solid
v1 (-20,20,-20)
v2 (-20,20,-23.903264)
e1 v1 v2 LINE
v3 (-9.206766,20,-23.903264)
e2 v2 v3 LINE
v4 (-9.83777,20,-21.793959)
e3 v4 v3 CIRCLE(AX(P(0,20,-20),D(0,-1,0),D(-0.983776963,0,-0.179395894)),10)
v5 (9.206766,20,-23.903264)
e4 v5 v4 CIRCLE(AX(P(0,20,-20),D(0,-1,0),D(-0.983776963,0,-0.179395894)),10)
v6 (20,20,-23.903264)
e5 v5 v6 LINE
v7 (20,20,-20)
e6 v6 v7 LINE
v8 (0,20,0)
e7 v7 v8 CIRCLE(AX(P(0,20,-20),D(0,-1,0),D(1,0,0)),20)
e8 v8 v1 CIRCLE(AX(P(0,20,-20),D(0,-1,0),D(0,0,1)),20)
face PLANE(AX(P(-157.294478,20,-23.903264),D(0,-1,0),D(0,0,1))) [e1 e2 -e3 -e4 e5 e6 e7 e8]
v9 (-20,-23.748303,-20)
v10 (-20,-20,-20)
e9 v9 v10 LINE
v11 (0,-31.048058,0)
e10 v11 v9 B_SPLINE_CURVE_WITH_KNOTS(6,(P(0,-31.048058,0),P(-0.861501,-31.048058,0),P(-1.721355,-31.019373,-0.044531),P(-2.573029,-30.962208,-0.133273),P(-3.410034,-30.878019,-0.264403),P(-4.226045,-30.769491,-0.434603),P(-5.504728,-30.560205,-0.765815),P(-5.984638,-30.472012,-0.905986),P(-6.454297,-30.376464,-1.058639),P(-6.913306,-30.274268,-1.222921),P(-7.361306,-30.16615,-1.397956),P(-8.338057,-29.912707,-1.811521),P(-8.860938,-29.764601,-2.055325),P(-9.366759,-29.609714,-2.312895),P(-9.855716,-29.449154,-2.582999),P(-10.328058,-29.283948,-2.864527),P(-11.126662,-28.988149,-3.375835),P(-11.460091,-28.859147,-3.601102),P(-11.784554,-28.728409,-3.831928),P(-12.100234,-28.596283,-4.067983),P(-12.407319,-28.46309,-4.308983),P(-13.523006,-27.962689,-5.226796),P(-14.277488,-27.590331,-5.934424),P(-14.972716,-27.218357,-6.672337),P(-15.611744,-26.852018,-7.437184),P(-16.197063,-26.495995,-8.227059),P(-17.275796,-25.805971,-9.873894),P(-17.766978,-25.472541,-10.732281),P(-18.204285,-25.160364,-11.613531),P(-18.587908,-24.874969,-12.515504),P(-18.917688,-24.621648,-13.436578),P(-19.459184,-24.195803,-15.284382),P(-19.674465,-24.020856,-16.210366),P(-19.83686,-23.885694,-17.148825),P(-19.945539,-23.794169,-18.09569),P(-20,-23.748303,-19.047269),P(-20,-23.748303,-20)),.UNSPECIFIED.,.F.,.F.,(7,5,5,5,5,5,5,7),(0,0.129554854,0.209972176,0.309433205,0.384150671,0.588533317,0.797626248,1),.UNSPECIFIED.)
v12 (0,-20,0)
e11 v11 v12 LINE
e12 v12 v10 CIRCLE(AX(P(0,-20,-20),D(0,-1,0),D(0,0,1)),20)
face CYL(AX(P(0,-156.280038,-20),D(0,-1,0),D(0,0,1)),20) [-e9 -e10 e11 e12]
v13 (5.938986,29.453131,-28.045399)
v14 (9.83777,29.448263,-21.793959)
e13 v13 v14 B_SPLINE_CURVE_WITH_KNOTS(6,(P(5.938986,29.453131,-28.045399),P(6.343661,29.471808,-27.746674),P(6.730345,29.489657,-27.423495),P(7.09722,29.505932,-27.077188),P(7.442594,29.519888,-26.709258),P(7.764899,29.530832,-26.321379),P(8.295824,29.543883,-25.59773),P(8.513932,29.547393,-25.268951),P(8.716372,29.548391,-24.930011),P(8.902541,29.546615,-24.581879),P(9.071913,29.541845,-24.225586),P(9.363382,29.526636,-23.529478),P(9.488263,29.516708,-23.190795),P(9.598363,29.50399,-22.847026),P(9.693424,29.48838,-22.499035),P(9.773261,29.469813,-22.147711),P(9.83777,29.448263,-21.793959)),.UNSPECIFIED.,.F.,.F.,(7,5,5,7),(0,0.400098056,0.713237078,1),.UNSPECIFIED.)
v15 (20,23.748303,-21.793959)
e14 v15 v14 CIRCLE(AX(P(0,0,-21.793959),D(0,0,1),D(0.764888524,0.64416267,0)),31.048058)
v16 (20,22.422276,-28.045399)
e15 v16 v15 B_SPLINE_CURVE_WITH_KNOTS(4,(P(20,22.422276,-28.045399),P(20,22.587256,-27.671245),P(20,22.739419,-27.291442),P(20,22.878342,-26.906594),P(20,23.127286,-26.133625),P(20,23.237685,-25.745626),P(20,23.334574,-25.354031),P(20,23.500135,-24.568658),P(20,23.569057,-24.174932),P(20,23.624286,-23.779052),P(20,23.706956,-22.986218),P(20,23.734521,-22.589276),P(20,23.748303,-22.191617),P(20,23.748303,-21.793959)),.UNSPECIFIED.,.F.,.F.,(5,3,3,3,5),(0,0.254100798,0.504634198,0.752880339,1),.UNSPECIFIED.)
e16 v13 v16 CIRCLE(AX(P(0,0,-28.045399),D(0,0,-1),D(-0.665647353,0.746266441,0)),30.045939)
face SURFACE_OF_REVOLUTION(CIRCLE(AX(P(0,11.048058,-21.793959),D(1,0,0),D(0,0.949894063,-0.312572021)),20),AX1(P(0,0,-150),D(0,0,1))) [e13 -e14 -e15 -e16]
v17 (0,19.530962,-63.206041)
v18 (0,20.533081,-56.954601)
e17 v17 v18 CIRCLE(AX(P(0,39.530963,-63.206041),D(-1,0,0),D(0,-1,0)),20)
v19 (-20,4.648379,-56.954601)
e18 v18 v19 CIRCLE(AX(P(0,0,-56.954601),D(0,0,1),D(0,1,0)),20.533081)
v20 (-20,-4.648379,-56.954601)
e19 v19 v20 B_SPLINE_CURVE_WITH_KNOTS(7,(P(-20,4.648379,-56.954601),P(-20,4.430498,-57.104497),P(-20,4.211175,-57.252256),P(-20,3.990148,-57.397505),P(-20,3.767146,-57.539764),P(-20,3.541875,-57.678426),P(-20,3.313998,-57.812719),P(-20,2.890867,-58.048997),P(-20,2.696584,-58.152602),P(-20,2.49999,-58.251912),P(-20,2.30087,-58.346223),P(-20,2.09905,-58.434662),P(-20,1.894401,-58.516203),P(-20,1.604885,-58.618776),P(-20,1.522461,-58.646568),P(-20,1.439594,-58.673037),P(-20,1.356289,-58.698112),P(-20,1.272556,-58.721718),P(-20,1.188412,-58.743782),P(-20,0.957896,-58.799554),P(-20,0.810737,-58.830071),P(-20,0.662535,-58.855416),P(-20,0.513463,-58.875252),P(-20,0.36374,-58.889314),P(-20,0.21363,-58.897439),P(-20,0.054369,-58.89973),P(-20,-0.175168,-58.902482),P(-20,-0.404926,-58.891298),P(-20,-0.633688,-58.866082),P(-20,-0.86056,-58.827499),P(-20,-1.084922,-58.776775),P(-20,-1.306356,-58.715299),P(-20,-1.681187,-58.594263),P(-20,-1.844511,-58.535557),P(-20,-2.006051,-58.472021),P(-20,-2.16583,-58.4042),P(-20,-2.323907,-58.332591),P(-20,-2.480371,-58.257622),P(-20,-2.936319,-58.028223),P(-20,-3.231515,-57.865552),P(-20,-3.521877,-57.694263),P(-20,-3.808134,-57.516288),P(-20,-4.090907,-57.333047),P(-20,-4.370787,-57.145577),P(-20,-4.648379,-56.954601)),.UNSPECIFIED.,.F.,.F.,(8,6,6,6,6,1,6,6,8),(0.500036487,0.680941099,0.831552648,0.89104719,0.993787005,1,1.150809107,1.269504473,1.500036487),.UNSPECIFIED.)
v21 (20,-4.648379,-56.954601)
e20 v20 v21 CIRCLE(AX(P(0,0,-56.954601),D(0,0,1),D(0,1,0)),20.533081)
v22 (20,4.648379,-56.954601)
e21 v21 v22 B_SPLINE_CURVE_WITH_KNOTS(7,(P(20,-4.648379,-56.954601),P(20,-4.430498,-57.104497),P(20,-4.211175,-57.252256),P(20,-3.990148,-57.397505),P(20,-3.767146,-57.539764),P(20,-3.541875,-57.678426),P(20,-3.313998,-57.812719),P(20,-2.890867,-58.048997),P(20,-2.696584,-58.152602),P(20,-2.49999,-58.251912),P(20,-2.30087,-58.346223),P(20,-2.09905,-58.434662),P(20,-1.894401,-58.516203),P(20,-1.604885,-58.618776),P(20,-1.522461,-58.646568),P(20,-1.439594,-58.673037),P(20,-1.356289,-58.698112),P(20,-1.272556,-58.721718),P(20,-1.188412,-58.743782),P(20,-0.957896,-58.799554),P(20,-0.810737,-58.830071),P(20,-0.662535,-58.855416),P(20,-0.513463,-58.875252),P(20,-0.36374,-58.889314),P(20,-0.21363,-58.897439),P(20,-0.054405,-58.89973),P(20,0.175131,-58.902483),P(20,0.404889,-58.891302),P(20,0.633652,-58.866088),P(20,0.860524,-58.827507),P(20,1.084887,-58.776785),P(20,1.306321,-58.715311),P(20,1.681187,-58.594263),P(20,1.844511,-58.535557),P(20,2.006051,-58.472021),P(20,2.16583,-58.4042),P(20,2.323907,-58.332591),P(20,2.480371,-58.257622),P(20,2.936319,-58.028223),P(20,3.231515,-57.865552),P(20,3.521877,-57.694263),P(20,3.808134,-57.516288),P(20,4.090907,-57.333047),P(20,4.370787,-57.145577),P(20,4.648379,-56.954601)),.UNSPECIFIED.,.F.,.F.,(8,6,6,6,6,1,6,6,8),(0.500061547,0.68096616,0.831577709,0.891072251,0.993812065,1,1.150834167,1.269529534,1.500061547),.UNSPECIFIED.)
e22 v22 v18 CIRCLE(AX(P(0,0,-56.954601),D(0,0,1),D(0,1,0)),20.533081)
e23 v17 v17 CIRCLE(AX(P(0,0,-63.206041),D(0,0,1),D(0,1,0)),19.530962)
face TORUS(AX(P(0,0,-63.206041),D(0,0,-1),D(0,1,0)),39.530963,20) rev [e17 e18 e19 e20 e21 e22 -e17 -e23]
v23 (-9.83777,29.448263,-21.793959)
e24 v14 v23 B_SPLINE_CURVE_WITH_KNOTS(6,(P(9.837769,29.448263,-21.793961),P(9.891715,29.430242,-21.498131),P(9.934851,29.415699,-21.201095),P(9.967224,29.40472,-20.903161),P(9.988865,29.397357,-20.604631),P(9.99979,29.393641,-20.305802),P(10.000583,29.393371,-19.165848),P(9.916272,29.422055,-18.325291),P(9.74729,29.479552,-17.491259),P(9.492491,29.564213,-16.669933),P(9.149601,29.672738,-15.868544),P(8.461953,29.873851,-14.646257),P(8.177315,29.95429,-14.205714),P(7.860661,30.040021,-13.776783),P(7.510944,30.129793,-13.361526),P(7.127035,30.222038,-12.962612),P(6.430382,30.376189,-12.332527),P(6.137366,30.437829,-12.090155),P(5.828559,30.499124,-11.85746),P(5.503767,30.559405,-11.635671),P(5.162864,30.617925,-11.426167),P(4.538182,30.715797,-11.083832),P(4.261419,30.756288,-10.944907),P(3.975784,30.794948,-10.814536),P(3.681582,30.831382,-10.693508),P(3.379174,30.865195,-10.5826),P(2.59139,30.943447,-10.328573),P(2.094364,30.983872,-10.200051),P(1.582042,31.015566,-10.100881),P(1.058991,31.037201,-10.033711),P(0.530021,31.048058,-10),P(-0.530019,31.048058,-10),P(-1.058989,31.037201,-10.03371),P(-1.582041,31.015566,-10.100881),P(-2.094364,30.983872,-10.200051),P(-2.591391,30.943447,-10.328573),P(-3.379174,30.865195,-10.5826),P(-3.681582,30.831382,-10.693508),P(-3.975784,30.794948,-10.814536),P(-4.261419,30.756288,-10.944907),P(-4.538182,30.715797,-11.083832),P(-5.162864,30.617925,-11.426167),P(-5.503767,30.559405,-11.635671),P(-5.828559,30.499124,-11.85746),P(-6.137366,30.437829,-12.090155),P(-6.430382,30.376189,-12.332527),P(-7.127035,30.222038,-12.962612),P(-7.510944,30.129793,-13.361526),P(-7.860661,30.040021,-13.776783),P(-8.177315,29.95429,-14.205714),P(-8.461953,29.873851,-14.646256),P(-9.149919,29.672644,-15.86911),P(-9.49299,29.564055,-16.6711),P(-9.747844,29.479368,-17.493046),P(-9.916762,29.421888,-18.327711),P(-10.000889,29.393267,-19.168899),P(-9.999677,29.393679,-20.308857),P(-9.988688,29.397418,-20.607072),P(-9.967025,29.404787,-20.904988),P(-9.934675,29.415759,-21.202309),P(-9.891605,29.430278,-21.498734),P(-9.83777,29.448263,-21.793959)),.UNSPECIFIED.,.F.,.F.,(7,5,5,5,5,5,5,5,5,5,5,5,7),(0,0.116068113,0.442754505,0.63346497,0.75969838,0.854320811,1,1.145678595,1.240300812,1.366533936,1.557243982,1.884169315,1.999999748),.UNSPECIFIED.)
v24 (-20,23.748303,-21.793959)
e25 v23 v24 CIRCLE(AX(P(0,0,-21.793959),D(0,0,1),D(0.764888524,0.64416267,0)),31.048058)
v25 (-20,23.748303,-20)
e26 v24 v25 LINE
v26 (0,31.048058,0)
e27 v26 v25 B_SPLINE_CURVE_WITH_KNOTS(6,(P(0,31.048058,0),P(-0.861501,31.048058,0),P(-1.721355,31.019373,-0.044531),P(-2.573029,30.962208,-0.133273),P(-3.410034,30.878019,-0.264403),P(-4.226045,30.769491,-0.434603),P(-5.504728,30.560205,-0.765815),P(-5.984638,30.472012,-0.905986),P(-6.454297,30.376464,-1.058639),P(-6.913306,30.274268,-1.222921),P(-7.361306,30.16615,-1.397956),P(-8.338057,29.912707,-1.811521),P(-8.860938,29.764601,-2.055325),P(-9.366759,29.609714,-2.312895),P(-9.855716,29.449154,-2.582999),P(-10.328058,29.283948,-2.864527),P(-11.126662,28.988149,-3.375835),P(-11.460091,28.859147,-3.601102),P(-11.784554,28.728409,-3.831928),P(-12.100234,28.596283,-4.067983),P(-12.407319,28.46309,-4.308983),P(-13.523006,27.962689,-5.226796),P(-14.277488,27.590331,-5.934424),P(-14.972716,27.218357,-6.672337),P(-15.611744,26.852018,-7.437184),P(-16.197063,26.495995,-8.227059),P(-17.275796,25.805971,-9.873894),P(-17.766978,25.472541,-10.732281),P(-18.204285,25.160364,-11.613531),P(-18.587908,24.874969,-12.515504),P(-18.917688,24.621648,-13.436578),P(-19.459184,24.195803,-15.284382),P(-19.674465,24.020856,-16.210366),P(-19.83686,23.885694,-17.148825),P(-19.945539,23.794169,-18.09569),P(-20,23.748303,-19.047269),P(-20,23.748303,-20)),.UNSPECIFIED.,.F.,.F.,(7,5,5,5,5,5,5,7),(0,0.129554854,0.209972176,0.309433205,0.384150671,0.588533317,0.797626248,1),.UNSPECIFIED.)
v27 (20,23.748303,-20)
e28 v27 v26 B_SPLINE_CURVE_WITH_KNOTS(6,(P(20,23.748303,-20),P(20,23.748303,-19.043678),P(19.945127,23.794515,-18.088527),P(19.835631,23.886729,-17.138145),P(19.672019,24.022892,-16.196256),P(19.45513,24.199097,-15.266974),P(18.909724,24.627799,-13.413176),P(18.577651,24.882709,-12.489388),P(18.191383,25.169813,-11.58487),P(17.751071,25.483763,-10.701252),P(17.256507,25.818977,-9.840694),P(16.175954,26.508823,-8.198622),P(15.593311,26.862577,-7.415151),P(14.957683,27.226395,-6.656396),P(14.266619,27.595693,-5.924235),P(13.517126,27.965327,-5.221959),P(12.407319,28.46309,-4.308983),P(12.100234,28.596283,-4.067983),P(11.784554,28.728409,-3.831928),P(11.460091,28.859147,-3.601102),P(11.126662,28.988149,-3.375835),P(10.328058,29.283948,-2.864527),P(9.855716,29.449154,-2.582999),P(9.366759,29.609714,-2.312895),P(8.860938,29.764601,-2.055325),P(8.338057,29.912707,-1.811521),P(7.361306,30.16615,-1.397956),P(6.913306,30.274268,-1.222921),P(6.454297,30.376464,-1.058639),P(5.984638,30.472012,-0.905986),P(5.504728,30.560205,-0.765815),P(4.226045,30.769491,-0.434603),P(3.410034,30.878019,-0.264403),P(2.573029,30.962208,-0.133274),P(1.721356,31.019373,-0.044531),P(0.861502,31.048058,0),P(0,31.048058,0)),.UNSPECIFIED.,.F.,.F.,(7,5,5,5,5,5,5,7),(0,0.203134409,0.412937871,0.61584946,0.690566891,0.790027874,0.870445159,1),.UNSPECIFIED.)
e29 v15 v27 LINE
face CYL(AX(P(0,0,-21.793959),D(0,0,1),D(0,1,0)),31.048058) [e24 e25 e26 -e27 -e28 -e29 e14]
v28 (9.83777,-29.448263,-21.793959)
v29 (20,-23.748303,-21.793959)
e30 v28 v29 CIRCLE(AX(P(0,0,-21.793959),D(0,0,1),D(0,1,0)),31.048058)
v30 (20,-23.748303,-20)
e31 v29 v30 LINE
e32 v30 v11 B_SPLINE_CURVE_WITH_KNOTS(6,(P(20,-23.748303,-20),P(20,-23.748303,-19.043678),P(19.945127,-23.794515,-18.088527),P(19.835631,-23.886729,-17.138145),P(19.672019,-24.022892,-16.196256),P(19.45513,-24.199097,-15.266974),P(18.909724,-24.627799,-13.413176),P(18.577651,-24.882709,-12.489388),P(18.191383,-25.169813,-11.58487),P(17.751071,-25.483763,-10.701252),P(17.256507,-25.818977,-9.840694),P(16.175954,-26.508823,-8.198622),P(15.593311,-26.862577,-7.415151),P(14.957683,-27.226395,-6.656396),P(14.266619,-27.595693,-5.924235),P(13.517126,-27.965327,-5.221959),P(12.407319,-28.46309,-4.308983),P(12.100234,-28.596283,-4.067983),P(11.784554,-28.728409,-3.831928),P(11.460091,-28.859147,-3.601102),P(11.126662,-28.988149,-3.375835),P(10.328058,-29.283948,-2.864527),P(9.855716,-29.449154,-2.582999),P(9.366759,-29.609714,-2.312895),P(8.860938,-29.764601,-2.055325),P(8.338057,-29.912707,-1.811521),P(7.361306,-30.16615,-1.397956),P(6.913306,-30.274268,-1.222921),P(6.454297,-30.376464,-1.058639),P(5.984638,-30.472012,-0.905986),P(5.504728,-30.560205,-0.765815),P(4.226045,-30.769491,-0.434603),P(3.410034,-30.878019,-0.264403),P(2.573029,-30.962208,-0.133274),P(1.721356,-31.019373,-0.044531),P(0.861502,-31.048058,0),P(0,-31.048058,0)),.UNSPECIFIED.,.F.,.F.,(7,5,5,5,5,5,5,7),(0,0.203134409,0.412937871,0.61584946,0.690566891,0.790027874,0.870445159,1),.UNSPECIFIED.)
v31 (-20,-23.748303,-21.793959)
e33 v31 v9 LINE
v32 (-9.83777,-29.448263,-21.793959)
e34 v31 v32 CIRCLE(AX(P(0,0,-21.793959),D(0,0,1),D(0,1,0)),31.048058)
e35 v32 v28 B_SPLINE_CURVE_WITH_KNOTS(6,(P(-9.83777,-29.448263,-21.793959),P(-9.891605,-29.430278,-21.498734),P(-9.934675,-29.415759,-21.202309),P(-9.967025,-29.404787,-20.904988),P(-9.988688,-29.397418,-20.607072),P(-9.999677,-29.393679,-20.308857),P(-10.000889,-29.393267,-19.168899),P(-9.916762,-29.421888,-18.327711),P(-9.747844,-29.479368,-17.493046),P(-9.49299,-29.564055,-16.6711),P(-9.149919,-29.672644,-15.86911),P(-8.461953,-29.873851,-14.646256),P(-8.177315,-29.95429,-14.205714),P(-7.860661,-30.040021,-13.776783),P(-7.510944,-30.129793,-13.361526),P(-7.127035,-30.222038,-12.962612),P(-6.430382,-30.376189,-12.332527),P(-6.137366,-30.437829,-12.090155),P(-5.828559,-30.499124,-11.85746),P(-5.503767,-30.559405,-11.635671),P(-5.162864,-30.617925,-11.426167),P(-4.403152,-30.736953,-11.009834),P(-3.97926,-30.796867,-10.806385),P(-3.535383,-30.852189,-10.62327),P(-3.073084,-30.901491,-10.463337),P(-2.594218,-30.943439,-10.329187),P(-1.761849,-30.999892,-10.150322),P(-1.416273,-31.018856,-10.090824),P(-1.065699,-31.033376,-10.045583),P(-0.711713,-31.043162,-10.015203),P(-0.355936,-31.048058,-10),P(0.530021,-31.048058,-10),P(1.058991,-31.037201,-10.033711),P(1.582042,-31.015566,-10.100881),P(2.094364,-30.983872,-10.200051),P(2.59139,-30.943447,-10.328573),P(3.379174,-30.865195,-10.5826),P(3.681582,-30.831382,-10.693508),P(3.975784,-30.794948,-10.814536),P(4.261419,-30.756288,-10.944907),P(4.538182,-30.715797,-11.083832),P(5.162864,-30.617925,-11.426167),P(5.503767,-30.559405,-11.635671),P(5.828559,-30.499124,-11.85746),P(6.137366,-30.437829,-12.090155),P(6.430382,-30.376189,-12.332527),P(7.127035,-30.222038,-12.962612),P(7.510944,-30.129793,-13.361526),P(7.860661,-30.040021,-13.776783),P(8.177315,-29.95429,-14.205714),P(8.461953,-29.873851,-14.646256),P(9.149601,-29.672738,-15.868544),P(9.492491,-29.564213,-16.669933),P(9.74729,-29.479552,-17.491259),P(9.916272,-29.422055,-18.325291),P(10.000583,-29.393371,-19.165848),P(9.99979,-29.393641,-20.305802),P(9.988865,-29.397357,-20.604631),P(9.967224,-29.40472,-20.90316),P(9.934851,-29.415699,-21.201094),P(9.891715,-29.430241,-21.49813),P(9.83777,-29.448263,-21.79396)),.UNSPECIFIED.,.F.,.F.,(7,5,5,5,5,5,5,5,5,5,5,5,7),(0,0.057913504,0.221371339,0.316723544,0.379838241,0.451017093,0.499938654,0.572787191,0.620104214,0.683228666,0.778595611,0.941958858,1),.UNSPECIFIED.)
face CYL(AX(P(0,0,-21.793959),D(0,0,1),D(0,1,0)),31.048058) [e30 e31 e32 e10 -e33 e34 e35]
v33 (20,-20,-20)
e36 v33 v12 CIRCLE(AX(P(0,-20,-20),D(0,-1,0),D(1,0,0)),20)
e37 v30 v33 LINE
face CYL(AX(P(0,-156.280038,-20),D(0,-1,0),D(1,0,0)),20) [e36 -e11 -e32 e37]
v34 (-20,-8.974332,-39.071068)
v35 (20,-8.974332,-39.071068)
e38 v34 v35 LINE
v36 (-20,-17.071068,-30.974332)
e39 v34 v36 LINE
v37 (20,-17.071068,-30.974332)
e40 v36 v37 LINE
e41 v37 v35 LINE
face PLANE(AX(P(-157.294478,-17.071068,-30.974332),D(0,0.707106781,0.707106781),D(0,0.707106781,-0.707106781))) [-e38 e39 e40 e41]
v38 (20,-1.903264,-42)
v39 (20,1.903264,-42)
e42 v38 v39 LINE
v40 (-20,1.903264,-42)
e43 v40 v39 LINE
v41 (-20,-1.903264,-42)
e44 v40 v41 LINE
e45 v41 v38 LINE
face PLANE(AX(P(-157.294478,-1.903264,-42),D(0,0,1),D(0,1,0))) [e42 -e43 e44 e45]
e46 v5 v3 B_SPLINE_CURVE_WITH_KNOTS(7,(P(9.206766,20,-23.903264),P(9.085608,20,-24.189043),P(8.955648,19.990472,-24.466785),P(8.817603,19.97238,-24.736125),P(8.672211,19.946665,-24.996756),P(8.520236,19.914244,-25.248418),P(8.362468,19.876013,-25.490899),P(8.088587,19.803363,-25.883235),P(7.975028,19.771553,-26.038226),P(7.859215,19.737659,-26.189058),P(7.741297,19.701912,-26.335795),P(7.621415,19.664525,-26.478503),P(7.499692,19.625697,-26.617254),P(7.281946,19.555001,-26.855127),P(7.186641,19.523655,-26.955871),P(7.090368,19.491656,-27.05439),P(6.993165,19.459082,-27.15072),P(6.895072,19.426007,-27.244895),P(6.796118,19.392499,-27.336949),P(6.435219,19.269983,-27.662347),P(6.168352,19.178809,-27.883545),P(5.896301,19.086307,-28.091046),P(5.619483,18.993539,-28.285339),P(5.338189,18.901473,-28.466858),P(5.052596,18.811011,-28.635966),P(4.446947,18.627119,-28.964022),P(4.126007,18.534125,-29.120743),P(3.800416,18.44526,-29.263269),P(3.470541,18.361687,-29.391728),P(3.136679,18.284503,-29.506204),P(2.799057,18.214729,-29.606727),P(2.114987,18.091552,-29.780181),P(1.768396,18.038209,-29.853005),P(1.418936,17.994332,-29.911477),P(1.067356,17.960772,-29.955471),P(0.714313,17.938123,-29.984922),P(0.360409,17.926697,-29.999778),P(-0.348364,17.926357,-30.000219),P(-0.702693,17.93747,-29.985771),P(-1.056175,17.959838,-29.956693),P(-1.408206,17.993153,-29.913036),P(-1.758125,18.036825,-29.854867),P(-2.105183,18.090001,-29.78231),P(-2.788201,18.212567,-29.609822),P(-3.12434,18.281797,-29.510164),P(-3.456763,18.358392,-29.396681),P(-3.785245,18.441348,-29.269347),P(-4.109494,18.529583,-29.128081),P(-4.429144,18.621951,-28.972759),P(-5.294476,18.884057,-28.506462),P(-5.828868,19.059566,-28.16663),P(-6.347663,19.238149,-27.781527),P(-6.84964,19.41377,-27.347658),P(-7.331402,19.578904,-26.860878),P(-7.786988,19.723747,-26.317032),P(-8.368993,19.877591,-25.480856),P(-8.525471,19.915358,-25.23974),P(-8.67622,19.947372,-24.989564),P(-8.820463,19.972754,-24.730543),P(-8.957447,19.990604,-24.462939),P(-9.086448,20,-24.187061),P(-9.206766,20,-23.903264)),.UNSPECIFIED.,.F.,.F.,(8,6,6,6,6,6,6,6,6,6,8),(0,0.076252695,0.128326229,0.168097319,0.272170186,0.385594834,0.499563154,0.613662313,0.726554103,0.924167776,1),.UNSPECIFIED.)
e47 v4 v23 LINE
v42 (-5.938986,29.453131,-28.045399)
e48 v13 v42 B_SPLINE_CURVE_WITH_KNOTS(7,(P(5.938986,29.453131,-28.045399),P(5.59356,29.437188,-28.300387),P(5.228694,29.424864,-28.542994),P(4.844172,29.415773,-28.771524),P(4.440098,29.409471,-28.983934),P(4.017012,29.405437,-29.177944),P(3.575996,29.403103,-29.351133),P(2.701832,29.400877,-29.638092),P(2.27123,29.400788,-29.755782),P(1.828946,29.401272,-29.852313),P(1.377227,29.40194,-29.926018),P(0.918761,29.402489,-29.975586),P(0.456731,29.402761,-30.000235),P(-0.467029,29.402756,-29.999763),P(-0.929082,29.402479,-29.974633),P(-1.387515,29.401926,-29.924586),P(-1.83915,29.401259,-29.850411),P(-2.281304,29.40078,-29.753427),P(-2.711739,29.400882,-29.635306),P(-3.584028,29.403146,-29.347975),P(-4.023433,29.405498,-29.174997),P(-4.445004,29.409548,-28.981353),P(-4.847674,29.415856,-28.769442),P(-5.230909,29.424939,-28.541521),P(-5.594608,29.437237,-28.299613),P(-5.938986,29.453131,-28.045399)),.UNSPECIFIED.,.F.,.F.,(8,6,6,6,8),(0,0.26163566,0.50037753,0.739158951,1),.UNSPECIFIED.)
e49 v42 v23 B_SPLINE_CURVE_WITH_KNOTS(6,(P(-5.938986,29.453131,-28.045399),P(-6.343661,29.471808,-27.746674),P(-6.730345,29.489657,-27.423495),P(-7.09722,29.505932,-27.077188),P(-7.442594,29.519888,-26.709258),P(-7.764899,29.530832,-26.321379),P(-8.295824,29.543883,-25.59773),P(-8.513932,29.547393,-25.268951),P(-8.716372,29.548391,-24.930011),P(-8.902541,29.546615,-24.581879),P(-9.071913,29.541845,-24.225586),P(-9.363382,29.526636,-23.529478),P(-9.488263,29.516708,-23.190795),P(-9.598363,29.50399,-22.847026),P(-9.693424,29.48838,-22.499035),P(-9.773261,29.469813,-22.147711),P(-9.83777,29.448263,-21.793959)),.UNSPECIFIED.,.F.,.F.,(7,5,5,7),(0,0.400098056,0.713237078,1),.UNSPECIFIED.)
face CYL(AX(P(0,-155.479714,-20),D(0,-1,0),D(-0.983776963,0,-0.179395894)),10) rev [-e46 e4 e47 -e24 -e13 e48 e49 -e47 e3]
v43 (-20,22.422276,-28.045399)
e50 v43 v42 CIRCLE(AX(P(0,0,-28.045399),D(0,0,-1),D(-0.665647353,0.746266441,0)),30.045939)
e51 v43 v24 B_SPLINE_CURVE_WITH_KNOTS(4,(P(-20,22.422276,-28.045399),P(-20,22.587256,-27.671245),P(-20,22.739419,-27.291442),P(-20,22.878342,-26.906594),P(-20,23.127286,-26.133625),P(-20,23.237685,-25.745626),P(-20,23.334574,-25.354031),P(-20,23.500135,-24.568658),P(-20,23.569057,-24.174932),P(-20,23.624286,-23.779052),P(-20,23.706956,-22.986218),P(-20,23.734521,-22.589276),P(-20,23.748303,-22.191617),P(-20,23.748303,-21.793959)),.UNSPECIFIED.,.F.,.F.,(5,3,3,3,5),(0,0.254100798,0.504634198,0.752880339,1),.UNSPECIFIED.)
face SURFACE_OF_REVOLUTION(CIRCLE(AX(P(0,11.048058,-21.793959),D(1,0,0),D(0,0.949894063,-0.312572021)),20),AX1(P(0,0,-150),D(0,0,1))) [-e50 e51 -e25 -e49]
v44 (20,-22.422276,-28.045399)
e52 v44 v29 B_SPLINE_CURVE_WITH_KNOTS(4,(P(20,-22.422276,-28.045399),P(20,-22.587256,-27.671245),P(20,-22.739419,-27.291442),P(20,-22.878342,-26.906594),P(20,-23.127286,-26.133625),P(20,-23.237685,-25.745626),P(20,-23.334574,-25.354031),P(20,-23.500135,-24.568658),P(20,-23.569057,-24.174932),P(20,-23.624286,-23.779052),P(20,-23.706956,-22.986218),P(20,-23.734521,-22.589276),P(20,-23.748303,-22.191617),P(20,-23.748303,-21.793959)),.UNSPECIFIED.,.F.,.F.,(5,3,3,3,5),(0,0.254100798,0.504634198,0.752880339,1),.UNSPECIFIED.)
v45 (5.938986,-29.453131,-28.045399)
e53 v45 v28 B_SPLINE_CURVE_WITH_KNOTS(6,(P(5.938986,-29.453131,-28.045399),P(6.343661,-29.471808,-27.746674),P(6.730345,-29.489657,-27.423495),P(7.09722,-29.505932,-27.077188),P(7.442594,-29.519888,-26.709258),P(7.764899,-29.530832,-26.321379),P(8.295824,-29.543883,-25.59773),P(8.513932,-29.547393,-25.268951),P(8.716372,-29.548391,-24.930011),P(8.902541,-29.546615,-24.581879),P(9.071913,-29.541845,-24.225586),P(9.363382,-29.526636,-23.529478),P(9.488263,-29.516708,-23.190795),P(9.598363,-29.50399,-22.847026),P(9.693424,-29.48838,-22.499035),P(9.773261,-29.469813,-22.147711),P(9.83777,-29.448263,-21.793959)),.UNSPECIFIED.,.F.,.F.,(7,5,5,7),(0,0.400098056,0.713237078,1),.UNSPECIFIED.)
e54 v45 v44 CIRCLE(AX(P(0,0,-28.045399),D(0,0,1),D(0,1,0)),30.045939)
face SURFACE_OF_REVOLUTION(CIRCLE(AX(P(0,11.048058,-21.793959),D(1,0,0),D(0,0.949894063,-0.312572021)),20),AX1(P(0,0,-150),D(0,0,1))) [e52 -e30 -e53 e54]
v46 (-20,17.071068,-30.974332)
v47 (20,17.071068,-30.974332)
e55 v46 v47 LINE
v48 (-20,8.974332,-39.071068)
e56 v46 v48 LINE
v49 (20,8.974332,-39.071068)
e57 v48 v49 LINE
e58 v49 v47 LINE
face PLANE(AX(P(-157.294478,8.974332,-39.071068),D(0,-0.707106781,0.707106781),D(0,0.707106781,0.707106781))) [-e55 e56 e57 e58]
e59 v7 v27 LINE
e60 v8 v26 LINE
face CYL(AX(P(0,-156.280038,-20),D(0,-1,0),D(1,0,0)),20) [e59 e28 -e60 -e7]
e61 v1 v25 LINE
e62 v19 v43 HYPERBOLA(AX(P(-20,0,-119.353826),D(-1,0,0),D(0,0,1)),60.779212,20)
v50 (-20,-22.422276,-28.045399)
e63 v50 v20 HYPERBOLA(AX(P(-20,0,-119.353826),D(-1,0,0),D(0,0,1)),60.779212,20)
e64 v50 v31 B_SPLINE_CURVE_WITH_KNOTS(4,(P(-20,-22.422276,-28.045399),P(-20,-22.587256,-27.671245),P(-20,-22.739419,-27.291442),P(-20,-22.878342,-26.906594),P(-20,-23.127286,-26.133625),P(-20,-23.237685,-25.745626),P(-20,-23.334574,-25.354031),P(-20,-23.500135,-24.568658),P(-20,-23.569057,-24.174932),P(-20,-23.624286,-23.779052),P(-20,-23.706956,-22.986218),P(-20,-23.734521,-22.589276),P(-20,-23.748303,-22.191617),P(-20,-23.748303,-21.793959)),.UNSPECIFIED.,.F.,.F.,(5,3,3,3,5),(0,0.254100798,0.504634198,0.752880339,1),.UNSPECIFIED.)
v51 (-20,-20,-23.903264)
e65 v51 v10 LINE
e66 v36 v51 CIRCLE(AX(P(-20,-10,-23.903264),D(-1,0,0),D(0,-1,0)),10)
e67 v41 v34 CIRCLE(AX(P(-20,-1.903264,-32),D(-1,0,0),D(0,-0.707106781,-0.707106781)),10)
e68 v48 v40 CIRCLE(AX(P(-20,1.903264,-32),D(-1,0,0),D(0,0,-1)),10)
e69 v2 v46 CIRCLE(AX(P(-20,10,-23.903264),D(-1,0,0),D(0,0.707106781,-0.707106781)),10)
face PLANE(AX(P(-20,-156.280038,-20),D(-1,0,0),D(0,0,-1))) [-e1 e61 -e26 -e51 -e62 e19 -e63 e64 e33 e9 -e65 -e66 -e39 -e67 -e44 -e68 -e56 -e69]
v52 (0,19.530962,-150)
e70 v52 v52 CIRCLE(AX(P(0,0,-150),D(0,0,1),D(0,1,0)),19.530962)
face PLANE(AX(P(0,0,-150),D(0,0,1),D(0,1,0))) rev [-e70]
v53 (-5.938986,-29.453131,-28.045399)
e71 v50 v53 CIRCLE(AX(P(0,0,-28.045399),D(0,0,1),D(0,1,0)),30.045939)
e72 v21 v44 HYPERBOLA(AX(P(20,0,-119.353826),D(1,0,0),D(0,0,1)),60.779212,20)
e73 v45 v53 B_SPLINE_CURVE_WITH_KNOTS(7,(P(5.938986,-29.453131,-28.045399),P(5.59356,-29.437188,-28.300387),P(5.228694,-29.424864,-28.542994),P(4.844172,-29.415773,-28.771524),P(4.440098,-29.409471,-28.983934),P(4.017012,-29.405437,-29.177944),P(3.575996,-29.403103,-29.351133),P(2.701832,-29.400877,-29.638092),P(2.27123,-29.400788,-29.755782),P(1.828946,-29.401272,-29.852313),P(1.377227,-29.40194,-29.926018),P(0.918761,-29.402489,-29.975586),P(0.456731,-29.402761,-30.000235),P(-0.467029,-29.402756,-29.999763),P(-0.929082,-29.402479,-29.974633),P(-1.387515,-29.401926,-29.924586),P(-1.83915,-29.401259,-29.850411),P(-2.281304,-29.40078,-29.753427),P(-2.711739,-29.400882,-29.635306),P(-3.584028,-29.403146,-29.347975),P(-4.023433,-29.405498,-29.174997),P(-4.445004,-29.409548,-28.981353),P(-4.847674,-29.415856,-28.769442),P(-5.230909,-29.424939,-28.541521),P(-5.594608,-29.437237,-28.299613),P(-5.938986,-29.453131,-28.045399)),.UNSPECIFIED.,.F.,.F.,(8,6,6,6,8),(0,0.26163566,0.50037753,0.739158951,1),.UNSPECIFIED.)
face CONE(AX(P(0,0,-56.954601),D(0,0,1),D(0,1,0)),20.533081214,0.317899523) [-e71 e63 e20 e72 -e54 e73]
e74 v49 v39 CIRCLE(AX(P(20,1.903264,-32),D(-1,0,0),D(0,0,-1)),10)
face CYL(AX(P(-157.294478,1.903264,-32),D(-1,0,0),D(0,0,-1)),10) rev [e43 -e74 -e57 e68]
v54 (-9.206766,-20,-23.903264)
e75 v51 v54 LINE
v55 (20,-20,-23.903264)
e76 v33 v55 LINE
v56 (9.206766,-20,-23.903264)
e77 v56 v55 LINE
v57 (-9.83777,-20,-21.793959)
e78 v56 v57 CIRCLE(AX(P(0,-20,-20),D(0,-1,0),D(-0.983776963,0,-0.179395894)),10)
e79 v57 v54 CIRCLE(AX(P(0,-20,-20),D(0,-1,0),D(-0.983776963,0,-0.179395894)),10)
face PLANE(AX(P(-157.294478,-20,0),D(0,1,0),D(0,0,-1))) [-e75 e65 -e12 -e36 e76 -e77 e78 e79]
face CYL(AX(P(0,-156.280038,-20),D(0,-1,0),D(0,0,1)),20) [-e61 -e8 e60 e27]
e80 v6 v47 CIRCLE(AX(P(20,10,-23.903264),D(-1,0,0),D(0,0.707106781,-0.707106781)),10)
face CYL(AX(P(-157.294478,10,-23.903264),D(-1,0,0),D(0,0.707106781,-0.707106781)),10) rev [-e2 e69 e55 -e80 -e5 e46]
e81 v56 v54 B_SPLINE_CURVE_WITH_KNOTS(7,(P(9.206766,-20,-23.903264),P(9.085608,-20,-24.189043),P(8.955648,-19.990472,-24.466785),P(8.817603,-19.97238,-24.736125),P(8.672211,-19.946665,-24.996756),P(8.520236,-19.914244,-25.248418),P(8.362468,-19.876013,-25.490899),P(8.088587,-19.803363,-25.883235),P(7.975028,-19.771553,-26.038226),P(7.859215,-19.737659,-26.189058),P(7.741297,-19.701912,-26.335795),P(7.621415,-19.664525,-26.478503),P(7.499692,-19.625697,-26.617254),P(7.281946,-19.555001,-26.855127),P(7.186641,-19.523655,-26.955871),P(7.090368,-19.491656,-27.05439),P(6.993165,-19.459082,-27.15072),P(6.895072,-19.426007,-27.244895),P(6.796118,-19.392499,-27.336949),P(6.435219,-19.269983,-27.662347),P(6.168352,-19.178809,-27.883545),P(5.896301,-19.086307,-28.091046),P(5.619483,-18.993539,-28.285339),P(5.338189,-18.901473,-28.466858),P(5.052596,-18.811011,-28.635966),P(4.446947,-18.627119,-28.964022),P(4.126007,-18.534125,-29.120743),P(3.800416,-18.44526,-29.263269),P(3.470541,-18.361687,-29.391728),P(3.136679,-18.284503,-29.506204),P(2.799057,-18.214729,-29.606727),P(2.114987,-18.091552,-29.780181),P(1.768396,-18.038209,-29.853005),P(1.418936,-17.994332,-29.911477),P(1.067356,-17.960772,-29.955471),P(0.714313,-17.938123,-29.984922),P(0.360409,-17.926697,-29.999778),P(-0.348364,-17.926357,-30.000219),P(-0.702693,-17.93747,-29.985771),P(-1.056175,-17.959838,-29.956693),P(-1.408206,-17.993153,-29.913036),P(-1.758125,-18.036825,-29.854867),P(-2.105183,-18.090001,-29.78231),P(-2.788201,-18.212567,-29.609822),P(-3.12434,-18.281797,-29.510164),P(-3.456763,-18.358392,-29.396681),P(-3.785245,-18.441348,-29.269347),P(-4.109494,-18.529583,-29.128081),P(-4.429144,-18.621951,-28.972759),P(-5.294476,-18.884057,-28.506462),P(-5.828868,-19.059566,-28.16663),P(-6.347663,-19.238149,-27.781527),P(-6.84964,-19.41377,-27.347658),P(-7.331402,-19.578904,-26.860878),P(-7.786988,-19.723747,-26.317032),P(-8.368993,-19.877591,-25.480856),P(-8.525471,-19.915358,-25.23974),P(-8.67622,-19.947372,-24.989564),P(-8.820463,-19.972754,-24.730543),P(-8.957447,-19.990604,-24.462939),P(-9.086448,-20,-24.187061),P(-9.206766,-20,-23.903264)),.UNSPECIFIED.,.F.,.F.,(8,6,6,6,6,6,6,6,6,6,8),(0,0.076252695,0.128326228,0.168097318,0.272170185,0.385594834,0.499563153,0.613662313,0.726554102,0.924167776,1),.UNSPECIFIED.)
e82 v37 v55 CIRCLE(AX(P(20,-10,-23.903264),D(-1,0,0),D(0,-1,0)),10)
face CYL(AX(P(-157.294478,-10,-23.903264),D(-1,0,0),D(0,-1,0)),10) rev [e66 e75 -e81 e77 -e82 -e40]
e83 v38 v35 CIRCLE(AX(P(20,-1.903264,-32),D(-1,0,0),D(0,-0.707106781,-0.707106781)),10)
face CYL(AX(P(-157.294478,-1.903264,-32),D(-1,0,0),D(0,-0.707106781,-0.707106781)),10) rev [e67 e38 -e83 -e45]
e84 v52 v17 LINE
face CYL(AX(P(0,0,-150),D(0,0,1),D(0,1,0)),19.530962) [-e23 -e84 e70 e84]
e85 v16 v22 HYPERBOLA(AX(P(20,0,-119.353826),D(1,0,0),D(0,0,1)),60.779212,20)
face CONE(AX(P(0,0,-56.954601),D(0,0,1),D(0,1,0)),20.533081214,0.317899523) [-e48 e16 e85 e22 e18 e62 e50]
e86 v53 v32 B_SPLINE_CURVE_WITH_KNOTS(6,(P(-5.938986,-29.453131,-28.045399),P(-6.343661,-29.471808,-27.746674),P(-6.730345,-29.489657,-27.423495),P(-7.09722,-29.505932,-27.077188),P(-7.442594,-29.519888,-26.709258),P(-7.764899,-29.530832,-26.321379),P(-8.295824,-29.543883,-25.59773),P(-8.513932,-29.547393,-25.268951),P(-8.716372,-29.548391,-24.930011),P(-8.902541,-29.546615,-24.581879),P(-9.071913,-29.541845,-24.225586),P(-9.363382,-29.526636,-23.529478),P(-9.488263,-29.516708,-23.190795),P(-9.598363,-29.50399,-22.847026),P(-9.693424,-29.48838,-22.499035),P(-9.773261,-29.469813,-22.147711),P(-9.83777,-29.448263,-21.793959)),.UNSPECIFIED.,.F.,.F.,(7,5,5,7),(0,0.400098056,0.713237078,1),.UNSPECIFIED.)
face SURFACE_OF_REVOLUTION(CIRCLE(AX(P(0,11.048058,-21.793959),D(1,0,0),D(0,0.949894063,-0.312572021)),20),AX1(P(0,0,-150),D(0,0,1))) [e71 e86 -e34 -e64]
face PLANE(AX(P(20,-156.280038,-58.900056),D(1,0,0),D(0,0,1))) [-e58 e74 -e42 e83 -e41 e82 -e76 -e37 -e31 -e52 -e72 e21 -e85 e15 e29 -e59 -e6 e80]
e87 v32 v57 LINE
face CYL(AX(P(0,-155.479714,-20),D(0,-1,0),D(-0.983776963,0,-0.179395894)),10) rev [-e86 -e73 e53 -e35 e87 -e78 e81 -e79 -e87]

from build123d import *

# Parameters (mm, degrees)
CUT_EXTRUDE1_DEPTH      = 157.294477939
CUT_EXTRUDE1_DEPTH_BACK = 157.294477939
CUT_EXTRUDE3_DEPTH      = 156.280037628
CUT_EXTRUDE3_DEPTH_BACK = 156.280037628
CUT_EXTRUDE4_DEPTH      = 155.479713623
CUT_EXTRUDE4_DEPTH_BACK = 155.479713623
SKETCH4_R               = 10


with BuildPart() as part:
    # Sketch1 → Revolve1 (revolve)
    with BuildSketch(Plane(origin=(0, 0, 0), x_dir=(0, 0, -1), z_dir=(1, 0, 0))):
        with BuildLine():
            Line((0, 31.048058087), (0, 0))
            Line((0, 0), (150, 0))
            Line((150, 0), (150, 19.53096248))
            Line((150, 19.53096248), (63.206041057, 19.53096248))
            ThreePointArc((63.206041057, 19.53096248), (60.040415158, 19.783081261), (56.954600633, 20.533081214))
            Line((56.954600633, 20.533081214), (28.045399367, 30.045939353))
            ThreePointArc((28.045399367, 30.045939353), (24.959584842, 30.795939306), (21.793958943, 31.048058087))
            Line((21.793958943, 31.048058087), (0, 31.048058087))
        make_face()
    revolve(axis=Axis((0, 0, -150), (0, 0, 1)))

    # Sketch2 → Cut-Extrude1 (cut, two sides: drawn at the far end of the back side and taken through both)
    with BuildSketch(Plane(origin=(0, 0, 0), x_dir=(0, 0, -1), z_dir=(1, 0, 0)).offset(-CUT_EXTRUDE1_DEPTH_BACK)):
        with BuildLine():
            Line((0, 20), (0, -20))
            Line((0, -20), (23.903263743, -20))
            ThreePointArc((23.903263743, -20), (27.730098067, -19.238795325), (30.974331555, -17.071067812))
            Line((30.974331555, -17.071067812), (39.071067812, -8.974331555))
            ThreePointArc((39.071067812, -8.974331555), (41.238795325, -5.730098067), (42, -1.903263743))
            Line((42, -1.903263743), (42, 1.903263743))
            ThreePointArc((42, 1.903263743), (41.238795325, 5.730098067), (39.071067812, 8.974331555))
            Line((39.071067812, 8.974331555), (30.974331555, 17.071067812))
            ThreePointArc((30.974331555, 17.071067812), (27.730098067, 19.238795325), (23.903263743, 20))
            Line((23.903263743, 20), (0, 20))
        make_face()
    extrude(amount=CUT_EXTRUDE1_DEPTH + CUT_EXTRUDE1_DEPTH_BACK, mode=Mode.SUBTRACT)

    # Sketch3 → Cut-Extrude3 (cut, two sides: drawn at the far end of the back side and taken through both)
    with BuildSketch(Plane(origin=(0, 0, 0), x_dir=(1, 0, 0), z_dir=(0, 1, 0)).offset(-CUT_EXTRUDE3_DEPTH_BACK)):
        with BuildLine():
            ThreePointArc((0, 0), (-14.142135624, 5.857864376), (-20, 20))
            Line((-20, 20), (-20, 58.900056316))
            Line((-20, 58.900056316), (-33.967415872, 58.900056316))
            Line((-33.967415872, 58.900056316), (-33.967415872, 0))
            Line((-33.967415872, 0), (0, 0))
        make_face()
        with BuildLine():
            ThreePointArc((20, 20), (14.142135624, 5.857864376), (0, 0))
            Line((0, 0), (30.596408204, 0))
            Line((30.596408204, 0), (30.596408204, 58.900056316))
            Line((30.596408204, 58.900056316), (20, 58.900056316))
            Line((20, 58.900056316), (20, 20))
        make_face()
    extrude(amount=CUT_EXTRUDE3_DEPTH + CUT_EXTRUDE3_DEPTH_BACK, mode=Mode.SUBTRACT)

    # Sketch4 → Cut-Extrude4 (cut, two sides: drawn at the far end of the back side and taken through both)
    with BuildSketch(Plane(origin=(0, 0, 0), x_dir=(1, 0, 0), z_dir=(0, 1, 0)).offset(-CUT_EXTRUDE4_DEPTH_BACK)):
        with Locations(Location((0, 20, 0), (0, 0, 169.665425663))):
            Circle(SKETCH4_R)
    extrude(amount=CUT_EXTRUDE4_DEPTH + CUT_EXTRUDE4_DEPTH_BACK, mode=Mode.SUBTRACT)


solid = part.part
